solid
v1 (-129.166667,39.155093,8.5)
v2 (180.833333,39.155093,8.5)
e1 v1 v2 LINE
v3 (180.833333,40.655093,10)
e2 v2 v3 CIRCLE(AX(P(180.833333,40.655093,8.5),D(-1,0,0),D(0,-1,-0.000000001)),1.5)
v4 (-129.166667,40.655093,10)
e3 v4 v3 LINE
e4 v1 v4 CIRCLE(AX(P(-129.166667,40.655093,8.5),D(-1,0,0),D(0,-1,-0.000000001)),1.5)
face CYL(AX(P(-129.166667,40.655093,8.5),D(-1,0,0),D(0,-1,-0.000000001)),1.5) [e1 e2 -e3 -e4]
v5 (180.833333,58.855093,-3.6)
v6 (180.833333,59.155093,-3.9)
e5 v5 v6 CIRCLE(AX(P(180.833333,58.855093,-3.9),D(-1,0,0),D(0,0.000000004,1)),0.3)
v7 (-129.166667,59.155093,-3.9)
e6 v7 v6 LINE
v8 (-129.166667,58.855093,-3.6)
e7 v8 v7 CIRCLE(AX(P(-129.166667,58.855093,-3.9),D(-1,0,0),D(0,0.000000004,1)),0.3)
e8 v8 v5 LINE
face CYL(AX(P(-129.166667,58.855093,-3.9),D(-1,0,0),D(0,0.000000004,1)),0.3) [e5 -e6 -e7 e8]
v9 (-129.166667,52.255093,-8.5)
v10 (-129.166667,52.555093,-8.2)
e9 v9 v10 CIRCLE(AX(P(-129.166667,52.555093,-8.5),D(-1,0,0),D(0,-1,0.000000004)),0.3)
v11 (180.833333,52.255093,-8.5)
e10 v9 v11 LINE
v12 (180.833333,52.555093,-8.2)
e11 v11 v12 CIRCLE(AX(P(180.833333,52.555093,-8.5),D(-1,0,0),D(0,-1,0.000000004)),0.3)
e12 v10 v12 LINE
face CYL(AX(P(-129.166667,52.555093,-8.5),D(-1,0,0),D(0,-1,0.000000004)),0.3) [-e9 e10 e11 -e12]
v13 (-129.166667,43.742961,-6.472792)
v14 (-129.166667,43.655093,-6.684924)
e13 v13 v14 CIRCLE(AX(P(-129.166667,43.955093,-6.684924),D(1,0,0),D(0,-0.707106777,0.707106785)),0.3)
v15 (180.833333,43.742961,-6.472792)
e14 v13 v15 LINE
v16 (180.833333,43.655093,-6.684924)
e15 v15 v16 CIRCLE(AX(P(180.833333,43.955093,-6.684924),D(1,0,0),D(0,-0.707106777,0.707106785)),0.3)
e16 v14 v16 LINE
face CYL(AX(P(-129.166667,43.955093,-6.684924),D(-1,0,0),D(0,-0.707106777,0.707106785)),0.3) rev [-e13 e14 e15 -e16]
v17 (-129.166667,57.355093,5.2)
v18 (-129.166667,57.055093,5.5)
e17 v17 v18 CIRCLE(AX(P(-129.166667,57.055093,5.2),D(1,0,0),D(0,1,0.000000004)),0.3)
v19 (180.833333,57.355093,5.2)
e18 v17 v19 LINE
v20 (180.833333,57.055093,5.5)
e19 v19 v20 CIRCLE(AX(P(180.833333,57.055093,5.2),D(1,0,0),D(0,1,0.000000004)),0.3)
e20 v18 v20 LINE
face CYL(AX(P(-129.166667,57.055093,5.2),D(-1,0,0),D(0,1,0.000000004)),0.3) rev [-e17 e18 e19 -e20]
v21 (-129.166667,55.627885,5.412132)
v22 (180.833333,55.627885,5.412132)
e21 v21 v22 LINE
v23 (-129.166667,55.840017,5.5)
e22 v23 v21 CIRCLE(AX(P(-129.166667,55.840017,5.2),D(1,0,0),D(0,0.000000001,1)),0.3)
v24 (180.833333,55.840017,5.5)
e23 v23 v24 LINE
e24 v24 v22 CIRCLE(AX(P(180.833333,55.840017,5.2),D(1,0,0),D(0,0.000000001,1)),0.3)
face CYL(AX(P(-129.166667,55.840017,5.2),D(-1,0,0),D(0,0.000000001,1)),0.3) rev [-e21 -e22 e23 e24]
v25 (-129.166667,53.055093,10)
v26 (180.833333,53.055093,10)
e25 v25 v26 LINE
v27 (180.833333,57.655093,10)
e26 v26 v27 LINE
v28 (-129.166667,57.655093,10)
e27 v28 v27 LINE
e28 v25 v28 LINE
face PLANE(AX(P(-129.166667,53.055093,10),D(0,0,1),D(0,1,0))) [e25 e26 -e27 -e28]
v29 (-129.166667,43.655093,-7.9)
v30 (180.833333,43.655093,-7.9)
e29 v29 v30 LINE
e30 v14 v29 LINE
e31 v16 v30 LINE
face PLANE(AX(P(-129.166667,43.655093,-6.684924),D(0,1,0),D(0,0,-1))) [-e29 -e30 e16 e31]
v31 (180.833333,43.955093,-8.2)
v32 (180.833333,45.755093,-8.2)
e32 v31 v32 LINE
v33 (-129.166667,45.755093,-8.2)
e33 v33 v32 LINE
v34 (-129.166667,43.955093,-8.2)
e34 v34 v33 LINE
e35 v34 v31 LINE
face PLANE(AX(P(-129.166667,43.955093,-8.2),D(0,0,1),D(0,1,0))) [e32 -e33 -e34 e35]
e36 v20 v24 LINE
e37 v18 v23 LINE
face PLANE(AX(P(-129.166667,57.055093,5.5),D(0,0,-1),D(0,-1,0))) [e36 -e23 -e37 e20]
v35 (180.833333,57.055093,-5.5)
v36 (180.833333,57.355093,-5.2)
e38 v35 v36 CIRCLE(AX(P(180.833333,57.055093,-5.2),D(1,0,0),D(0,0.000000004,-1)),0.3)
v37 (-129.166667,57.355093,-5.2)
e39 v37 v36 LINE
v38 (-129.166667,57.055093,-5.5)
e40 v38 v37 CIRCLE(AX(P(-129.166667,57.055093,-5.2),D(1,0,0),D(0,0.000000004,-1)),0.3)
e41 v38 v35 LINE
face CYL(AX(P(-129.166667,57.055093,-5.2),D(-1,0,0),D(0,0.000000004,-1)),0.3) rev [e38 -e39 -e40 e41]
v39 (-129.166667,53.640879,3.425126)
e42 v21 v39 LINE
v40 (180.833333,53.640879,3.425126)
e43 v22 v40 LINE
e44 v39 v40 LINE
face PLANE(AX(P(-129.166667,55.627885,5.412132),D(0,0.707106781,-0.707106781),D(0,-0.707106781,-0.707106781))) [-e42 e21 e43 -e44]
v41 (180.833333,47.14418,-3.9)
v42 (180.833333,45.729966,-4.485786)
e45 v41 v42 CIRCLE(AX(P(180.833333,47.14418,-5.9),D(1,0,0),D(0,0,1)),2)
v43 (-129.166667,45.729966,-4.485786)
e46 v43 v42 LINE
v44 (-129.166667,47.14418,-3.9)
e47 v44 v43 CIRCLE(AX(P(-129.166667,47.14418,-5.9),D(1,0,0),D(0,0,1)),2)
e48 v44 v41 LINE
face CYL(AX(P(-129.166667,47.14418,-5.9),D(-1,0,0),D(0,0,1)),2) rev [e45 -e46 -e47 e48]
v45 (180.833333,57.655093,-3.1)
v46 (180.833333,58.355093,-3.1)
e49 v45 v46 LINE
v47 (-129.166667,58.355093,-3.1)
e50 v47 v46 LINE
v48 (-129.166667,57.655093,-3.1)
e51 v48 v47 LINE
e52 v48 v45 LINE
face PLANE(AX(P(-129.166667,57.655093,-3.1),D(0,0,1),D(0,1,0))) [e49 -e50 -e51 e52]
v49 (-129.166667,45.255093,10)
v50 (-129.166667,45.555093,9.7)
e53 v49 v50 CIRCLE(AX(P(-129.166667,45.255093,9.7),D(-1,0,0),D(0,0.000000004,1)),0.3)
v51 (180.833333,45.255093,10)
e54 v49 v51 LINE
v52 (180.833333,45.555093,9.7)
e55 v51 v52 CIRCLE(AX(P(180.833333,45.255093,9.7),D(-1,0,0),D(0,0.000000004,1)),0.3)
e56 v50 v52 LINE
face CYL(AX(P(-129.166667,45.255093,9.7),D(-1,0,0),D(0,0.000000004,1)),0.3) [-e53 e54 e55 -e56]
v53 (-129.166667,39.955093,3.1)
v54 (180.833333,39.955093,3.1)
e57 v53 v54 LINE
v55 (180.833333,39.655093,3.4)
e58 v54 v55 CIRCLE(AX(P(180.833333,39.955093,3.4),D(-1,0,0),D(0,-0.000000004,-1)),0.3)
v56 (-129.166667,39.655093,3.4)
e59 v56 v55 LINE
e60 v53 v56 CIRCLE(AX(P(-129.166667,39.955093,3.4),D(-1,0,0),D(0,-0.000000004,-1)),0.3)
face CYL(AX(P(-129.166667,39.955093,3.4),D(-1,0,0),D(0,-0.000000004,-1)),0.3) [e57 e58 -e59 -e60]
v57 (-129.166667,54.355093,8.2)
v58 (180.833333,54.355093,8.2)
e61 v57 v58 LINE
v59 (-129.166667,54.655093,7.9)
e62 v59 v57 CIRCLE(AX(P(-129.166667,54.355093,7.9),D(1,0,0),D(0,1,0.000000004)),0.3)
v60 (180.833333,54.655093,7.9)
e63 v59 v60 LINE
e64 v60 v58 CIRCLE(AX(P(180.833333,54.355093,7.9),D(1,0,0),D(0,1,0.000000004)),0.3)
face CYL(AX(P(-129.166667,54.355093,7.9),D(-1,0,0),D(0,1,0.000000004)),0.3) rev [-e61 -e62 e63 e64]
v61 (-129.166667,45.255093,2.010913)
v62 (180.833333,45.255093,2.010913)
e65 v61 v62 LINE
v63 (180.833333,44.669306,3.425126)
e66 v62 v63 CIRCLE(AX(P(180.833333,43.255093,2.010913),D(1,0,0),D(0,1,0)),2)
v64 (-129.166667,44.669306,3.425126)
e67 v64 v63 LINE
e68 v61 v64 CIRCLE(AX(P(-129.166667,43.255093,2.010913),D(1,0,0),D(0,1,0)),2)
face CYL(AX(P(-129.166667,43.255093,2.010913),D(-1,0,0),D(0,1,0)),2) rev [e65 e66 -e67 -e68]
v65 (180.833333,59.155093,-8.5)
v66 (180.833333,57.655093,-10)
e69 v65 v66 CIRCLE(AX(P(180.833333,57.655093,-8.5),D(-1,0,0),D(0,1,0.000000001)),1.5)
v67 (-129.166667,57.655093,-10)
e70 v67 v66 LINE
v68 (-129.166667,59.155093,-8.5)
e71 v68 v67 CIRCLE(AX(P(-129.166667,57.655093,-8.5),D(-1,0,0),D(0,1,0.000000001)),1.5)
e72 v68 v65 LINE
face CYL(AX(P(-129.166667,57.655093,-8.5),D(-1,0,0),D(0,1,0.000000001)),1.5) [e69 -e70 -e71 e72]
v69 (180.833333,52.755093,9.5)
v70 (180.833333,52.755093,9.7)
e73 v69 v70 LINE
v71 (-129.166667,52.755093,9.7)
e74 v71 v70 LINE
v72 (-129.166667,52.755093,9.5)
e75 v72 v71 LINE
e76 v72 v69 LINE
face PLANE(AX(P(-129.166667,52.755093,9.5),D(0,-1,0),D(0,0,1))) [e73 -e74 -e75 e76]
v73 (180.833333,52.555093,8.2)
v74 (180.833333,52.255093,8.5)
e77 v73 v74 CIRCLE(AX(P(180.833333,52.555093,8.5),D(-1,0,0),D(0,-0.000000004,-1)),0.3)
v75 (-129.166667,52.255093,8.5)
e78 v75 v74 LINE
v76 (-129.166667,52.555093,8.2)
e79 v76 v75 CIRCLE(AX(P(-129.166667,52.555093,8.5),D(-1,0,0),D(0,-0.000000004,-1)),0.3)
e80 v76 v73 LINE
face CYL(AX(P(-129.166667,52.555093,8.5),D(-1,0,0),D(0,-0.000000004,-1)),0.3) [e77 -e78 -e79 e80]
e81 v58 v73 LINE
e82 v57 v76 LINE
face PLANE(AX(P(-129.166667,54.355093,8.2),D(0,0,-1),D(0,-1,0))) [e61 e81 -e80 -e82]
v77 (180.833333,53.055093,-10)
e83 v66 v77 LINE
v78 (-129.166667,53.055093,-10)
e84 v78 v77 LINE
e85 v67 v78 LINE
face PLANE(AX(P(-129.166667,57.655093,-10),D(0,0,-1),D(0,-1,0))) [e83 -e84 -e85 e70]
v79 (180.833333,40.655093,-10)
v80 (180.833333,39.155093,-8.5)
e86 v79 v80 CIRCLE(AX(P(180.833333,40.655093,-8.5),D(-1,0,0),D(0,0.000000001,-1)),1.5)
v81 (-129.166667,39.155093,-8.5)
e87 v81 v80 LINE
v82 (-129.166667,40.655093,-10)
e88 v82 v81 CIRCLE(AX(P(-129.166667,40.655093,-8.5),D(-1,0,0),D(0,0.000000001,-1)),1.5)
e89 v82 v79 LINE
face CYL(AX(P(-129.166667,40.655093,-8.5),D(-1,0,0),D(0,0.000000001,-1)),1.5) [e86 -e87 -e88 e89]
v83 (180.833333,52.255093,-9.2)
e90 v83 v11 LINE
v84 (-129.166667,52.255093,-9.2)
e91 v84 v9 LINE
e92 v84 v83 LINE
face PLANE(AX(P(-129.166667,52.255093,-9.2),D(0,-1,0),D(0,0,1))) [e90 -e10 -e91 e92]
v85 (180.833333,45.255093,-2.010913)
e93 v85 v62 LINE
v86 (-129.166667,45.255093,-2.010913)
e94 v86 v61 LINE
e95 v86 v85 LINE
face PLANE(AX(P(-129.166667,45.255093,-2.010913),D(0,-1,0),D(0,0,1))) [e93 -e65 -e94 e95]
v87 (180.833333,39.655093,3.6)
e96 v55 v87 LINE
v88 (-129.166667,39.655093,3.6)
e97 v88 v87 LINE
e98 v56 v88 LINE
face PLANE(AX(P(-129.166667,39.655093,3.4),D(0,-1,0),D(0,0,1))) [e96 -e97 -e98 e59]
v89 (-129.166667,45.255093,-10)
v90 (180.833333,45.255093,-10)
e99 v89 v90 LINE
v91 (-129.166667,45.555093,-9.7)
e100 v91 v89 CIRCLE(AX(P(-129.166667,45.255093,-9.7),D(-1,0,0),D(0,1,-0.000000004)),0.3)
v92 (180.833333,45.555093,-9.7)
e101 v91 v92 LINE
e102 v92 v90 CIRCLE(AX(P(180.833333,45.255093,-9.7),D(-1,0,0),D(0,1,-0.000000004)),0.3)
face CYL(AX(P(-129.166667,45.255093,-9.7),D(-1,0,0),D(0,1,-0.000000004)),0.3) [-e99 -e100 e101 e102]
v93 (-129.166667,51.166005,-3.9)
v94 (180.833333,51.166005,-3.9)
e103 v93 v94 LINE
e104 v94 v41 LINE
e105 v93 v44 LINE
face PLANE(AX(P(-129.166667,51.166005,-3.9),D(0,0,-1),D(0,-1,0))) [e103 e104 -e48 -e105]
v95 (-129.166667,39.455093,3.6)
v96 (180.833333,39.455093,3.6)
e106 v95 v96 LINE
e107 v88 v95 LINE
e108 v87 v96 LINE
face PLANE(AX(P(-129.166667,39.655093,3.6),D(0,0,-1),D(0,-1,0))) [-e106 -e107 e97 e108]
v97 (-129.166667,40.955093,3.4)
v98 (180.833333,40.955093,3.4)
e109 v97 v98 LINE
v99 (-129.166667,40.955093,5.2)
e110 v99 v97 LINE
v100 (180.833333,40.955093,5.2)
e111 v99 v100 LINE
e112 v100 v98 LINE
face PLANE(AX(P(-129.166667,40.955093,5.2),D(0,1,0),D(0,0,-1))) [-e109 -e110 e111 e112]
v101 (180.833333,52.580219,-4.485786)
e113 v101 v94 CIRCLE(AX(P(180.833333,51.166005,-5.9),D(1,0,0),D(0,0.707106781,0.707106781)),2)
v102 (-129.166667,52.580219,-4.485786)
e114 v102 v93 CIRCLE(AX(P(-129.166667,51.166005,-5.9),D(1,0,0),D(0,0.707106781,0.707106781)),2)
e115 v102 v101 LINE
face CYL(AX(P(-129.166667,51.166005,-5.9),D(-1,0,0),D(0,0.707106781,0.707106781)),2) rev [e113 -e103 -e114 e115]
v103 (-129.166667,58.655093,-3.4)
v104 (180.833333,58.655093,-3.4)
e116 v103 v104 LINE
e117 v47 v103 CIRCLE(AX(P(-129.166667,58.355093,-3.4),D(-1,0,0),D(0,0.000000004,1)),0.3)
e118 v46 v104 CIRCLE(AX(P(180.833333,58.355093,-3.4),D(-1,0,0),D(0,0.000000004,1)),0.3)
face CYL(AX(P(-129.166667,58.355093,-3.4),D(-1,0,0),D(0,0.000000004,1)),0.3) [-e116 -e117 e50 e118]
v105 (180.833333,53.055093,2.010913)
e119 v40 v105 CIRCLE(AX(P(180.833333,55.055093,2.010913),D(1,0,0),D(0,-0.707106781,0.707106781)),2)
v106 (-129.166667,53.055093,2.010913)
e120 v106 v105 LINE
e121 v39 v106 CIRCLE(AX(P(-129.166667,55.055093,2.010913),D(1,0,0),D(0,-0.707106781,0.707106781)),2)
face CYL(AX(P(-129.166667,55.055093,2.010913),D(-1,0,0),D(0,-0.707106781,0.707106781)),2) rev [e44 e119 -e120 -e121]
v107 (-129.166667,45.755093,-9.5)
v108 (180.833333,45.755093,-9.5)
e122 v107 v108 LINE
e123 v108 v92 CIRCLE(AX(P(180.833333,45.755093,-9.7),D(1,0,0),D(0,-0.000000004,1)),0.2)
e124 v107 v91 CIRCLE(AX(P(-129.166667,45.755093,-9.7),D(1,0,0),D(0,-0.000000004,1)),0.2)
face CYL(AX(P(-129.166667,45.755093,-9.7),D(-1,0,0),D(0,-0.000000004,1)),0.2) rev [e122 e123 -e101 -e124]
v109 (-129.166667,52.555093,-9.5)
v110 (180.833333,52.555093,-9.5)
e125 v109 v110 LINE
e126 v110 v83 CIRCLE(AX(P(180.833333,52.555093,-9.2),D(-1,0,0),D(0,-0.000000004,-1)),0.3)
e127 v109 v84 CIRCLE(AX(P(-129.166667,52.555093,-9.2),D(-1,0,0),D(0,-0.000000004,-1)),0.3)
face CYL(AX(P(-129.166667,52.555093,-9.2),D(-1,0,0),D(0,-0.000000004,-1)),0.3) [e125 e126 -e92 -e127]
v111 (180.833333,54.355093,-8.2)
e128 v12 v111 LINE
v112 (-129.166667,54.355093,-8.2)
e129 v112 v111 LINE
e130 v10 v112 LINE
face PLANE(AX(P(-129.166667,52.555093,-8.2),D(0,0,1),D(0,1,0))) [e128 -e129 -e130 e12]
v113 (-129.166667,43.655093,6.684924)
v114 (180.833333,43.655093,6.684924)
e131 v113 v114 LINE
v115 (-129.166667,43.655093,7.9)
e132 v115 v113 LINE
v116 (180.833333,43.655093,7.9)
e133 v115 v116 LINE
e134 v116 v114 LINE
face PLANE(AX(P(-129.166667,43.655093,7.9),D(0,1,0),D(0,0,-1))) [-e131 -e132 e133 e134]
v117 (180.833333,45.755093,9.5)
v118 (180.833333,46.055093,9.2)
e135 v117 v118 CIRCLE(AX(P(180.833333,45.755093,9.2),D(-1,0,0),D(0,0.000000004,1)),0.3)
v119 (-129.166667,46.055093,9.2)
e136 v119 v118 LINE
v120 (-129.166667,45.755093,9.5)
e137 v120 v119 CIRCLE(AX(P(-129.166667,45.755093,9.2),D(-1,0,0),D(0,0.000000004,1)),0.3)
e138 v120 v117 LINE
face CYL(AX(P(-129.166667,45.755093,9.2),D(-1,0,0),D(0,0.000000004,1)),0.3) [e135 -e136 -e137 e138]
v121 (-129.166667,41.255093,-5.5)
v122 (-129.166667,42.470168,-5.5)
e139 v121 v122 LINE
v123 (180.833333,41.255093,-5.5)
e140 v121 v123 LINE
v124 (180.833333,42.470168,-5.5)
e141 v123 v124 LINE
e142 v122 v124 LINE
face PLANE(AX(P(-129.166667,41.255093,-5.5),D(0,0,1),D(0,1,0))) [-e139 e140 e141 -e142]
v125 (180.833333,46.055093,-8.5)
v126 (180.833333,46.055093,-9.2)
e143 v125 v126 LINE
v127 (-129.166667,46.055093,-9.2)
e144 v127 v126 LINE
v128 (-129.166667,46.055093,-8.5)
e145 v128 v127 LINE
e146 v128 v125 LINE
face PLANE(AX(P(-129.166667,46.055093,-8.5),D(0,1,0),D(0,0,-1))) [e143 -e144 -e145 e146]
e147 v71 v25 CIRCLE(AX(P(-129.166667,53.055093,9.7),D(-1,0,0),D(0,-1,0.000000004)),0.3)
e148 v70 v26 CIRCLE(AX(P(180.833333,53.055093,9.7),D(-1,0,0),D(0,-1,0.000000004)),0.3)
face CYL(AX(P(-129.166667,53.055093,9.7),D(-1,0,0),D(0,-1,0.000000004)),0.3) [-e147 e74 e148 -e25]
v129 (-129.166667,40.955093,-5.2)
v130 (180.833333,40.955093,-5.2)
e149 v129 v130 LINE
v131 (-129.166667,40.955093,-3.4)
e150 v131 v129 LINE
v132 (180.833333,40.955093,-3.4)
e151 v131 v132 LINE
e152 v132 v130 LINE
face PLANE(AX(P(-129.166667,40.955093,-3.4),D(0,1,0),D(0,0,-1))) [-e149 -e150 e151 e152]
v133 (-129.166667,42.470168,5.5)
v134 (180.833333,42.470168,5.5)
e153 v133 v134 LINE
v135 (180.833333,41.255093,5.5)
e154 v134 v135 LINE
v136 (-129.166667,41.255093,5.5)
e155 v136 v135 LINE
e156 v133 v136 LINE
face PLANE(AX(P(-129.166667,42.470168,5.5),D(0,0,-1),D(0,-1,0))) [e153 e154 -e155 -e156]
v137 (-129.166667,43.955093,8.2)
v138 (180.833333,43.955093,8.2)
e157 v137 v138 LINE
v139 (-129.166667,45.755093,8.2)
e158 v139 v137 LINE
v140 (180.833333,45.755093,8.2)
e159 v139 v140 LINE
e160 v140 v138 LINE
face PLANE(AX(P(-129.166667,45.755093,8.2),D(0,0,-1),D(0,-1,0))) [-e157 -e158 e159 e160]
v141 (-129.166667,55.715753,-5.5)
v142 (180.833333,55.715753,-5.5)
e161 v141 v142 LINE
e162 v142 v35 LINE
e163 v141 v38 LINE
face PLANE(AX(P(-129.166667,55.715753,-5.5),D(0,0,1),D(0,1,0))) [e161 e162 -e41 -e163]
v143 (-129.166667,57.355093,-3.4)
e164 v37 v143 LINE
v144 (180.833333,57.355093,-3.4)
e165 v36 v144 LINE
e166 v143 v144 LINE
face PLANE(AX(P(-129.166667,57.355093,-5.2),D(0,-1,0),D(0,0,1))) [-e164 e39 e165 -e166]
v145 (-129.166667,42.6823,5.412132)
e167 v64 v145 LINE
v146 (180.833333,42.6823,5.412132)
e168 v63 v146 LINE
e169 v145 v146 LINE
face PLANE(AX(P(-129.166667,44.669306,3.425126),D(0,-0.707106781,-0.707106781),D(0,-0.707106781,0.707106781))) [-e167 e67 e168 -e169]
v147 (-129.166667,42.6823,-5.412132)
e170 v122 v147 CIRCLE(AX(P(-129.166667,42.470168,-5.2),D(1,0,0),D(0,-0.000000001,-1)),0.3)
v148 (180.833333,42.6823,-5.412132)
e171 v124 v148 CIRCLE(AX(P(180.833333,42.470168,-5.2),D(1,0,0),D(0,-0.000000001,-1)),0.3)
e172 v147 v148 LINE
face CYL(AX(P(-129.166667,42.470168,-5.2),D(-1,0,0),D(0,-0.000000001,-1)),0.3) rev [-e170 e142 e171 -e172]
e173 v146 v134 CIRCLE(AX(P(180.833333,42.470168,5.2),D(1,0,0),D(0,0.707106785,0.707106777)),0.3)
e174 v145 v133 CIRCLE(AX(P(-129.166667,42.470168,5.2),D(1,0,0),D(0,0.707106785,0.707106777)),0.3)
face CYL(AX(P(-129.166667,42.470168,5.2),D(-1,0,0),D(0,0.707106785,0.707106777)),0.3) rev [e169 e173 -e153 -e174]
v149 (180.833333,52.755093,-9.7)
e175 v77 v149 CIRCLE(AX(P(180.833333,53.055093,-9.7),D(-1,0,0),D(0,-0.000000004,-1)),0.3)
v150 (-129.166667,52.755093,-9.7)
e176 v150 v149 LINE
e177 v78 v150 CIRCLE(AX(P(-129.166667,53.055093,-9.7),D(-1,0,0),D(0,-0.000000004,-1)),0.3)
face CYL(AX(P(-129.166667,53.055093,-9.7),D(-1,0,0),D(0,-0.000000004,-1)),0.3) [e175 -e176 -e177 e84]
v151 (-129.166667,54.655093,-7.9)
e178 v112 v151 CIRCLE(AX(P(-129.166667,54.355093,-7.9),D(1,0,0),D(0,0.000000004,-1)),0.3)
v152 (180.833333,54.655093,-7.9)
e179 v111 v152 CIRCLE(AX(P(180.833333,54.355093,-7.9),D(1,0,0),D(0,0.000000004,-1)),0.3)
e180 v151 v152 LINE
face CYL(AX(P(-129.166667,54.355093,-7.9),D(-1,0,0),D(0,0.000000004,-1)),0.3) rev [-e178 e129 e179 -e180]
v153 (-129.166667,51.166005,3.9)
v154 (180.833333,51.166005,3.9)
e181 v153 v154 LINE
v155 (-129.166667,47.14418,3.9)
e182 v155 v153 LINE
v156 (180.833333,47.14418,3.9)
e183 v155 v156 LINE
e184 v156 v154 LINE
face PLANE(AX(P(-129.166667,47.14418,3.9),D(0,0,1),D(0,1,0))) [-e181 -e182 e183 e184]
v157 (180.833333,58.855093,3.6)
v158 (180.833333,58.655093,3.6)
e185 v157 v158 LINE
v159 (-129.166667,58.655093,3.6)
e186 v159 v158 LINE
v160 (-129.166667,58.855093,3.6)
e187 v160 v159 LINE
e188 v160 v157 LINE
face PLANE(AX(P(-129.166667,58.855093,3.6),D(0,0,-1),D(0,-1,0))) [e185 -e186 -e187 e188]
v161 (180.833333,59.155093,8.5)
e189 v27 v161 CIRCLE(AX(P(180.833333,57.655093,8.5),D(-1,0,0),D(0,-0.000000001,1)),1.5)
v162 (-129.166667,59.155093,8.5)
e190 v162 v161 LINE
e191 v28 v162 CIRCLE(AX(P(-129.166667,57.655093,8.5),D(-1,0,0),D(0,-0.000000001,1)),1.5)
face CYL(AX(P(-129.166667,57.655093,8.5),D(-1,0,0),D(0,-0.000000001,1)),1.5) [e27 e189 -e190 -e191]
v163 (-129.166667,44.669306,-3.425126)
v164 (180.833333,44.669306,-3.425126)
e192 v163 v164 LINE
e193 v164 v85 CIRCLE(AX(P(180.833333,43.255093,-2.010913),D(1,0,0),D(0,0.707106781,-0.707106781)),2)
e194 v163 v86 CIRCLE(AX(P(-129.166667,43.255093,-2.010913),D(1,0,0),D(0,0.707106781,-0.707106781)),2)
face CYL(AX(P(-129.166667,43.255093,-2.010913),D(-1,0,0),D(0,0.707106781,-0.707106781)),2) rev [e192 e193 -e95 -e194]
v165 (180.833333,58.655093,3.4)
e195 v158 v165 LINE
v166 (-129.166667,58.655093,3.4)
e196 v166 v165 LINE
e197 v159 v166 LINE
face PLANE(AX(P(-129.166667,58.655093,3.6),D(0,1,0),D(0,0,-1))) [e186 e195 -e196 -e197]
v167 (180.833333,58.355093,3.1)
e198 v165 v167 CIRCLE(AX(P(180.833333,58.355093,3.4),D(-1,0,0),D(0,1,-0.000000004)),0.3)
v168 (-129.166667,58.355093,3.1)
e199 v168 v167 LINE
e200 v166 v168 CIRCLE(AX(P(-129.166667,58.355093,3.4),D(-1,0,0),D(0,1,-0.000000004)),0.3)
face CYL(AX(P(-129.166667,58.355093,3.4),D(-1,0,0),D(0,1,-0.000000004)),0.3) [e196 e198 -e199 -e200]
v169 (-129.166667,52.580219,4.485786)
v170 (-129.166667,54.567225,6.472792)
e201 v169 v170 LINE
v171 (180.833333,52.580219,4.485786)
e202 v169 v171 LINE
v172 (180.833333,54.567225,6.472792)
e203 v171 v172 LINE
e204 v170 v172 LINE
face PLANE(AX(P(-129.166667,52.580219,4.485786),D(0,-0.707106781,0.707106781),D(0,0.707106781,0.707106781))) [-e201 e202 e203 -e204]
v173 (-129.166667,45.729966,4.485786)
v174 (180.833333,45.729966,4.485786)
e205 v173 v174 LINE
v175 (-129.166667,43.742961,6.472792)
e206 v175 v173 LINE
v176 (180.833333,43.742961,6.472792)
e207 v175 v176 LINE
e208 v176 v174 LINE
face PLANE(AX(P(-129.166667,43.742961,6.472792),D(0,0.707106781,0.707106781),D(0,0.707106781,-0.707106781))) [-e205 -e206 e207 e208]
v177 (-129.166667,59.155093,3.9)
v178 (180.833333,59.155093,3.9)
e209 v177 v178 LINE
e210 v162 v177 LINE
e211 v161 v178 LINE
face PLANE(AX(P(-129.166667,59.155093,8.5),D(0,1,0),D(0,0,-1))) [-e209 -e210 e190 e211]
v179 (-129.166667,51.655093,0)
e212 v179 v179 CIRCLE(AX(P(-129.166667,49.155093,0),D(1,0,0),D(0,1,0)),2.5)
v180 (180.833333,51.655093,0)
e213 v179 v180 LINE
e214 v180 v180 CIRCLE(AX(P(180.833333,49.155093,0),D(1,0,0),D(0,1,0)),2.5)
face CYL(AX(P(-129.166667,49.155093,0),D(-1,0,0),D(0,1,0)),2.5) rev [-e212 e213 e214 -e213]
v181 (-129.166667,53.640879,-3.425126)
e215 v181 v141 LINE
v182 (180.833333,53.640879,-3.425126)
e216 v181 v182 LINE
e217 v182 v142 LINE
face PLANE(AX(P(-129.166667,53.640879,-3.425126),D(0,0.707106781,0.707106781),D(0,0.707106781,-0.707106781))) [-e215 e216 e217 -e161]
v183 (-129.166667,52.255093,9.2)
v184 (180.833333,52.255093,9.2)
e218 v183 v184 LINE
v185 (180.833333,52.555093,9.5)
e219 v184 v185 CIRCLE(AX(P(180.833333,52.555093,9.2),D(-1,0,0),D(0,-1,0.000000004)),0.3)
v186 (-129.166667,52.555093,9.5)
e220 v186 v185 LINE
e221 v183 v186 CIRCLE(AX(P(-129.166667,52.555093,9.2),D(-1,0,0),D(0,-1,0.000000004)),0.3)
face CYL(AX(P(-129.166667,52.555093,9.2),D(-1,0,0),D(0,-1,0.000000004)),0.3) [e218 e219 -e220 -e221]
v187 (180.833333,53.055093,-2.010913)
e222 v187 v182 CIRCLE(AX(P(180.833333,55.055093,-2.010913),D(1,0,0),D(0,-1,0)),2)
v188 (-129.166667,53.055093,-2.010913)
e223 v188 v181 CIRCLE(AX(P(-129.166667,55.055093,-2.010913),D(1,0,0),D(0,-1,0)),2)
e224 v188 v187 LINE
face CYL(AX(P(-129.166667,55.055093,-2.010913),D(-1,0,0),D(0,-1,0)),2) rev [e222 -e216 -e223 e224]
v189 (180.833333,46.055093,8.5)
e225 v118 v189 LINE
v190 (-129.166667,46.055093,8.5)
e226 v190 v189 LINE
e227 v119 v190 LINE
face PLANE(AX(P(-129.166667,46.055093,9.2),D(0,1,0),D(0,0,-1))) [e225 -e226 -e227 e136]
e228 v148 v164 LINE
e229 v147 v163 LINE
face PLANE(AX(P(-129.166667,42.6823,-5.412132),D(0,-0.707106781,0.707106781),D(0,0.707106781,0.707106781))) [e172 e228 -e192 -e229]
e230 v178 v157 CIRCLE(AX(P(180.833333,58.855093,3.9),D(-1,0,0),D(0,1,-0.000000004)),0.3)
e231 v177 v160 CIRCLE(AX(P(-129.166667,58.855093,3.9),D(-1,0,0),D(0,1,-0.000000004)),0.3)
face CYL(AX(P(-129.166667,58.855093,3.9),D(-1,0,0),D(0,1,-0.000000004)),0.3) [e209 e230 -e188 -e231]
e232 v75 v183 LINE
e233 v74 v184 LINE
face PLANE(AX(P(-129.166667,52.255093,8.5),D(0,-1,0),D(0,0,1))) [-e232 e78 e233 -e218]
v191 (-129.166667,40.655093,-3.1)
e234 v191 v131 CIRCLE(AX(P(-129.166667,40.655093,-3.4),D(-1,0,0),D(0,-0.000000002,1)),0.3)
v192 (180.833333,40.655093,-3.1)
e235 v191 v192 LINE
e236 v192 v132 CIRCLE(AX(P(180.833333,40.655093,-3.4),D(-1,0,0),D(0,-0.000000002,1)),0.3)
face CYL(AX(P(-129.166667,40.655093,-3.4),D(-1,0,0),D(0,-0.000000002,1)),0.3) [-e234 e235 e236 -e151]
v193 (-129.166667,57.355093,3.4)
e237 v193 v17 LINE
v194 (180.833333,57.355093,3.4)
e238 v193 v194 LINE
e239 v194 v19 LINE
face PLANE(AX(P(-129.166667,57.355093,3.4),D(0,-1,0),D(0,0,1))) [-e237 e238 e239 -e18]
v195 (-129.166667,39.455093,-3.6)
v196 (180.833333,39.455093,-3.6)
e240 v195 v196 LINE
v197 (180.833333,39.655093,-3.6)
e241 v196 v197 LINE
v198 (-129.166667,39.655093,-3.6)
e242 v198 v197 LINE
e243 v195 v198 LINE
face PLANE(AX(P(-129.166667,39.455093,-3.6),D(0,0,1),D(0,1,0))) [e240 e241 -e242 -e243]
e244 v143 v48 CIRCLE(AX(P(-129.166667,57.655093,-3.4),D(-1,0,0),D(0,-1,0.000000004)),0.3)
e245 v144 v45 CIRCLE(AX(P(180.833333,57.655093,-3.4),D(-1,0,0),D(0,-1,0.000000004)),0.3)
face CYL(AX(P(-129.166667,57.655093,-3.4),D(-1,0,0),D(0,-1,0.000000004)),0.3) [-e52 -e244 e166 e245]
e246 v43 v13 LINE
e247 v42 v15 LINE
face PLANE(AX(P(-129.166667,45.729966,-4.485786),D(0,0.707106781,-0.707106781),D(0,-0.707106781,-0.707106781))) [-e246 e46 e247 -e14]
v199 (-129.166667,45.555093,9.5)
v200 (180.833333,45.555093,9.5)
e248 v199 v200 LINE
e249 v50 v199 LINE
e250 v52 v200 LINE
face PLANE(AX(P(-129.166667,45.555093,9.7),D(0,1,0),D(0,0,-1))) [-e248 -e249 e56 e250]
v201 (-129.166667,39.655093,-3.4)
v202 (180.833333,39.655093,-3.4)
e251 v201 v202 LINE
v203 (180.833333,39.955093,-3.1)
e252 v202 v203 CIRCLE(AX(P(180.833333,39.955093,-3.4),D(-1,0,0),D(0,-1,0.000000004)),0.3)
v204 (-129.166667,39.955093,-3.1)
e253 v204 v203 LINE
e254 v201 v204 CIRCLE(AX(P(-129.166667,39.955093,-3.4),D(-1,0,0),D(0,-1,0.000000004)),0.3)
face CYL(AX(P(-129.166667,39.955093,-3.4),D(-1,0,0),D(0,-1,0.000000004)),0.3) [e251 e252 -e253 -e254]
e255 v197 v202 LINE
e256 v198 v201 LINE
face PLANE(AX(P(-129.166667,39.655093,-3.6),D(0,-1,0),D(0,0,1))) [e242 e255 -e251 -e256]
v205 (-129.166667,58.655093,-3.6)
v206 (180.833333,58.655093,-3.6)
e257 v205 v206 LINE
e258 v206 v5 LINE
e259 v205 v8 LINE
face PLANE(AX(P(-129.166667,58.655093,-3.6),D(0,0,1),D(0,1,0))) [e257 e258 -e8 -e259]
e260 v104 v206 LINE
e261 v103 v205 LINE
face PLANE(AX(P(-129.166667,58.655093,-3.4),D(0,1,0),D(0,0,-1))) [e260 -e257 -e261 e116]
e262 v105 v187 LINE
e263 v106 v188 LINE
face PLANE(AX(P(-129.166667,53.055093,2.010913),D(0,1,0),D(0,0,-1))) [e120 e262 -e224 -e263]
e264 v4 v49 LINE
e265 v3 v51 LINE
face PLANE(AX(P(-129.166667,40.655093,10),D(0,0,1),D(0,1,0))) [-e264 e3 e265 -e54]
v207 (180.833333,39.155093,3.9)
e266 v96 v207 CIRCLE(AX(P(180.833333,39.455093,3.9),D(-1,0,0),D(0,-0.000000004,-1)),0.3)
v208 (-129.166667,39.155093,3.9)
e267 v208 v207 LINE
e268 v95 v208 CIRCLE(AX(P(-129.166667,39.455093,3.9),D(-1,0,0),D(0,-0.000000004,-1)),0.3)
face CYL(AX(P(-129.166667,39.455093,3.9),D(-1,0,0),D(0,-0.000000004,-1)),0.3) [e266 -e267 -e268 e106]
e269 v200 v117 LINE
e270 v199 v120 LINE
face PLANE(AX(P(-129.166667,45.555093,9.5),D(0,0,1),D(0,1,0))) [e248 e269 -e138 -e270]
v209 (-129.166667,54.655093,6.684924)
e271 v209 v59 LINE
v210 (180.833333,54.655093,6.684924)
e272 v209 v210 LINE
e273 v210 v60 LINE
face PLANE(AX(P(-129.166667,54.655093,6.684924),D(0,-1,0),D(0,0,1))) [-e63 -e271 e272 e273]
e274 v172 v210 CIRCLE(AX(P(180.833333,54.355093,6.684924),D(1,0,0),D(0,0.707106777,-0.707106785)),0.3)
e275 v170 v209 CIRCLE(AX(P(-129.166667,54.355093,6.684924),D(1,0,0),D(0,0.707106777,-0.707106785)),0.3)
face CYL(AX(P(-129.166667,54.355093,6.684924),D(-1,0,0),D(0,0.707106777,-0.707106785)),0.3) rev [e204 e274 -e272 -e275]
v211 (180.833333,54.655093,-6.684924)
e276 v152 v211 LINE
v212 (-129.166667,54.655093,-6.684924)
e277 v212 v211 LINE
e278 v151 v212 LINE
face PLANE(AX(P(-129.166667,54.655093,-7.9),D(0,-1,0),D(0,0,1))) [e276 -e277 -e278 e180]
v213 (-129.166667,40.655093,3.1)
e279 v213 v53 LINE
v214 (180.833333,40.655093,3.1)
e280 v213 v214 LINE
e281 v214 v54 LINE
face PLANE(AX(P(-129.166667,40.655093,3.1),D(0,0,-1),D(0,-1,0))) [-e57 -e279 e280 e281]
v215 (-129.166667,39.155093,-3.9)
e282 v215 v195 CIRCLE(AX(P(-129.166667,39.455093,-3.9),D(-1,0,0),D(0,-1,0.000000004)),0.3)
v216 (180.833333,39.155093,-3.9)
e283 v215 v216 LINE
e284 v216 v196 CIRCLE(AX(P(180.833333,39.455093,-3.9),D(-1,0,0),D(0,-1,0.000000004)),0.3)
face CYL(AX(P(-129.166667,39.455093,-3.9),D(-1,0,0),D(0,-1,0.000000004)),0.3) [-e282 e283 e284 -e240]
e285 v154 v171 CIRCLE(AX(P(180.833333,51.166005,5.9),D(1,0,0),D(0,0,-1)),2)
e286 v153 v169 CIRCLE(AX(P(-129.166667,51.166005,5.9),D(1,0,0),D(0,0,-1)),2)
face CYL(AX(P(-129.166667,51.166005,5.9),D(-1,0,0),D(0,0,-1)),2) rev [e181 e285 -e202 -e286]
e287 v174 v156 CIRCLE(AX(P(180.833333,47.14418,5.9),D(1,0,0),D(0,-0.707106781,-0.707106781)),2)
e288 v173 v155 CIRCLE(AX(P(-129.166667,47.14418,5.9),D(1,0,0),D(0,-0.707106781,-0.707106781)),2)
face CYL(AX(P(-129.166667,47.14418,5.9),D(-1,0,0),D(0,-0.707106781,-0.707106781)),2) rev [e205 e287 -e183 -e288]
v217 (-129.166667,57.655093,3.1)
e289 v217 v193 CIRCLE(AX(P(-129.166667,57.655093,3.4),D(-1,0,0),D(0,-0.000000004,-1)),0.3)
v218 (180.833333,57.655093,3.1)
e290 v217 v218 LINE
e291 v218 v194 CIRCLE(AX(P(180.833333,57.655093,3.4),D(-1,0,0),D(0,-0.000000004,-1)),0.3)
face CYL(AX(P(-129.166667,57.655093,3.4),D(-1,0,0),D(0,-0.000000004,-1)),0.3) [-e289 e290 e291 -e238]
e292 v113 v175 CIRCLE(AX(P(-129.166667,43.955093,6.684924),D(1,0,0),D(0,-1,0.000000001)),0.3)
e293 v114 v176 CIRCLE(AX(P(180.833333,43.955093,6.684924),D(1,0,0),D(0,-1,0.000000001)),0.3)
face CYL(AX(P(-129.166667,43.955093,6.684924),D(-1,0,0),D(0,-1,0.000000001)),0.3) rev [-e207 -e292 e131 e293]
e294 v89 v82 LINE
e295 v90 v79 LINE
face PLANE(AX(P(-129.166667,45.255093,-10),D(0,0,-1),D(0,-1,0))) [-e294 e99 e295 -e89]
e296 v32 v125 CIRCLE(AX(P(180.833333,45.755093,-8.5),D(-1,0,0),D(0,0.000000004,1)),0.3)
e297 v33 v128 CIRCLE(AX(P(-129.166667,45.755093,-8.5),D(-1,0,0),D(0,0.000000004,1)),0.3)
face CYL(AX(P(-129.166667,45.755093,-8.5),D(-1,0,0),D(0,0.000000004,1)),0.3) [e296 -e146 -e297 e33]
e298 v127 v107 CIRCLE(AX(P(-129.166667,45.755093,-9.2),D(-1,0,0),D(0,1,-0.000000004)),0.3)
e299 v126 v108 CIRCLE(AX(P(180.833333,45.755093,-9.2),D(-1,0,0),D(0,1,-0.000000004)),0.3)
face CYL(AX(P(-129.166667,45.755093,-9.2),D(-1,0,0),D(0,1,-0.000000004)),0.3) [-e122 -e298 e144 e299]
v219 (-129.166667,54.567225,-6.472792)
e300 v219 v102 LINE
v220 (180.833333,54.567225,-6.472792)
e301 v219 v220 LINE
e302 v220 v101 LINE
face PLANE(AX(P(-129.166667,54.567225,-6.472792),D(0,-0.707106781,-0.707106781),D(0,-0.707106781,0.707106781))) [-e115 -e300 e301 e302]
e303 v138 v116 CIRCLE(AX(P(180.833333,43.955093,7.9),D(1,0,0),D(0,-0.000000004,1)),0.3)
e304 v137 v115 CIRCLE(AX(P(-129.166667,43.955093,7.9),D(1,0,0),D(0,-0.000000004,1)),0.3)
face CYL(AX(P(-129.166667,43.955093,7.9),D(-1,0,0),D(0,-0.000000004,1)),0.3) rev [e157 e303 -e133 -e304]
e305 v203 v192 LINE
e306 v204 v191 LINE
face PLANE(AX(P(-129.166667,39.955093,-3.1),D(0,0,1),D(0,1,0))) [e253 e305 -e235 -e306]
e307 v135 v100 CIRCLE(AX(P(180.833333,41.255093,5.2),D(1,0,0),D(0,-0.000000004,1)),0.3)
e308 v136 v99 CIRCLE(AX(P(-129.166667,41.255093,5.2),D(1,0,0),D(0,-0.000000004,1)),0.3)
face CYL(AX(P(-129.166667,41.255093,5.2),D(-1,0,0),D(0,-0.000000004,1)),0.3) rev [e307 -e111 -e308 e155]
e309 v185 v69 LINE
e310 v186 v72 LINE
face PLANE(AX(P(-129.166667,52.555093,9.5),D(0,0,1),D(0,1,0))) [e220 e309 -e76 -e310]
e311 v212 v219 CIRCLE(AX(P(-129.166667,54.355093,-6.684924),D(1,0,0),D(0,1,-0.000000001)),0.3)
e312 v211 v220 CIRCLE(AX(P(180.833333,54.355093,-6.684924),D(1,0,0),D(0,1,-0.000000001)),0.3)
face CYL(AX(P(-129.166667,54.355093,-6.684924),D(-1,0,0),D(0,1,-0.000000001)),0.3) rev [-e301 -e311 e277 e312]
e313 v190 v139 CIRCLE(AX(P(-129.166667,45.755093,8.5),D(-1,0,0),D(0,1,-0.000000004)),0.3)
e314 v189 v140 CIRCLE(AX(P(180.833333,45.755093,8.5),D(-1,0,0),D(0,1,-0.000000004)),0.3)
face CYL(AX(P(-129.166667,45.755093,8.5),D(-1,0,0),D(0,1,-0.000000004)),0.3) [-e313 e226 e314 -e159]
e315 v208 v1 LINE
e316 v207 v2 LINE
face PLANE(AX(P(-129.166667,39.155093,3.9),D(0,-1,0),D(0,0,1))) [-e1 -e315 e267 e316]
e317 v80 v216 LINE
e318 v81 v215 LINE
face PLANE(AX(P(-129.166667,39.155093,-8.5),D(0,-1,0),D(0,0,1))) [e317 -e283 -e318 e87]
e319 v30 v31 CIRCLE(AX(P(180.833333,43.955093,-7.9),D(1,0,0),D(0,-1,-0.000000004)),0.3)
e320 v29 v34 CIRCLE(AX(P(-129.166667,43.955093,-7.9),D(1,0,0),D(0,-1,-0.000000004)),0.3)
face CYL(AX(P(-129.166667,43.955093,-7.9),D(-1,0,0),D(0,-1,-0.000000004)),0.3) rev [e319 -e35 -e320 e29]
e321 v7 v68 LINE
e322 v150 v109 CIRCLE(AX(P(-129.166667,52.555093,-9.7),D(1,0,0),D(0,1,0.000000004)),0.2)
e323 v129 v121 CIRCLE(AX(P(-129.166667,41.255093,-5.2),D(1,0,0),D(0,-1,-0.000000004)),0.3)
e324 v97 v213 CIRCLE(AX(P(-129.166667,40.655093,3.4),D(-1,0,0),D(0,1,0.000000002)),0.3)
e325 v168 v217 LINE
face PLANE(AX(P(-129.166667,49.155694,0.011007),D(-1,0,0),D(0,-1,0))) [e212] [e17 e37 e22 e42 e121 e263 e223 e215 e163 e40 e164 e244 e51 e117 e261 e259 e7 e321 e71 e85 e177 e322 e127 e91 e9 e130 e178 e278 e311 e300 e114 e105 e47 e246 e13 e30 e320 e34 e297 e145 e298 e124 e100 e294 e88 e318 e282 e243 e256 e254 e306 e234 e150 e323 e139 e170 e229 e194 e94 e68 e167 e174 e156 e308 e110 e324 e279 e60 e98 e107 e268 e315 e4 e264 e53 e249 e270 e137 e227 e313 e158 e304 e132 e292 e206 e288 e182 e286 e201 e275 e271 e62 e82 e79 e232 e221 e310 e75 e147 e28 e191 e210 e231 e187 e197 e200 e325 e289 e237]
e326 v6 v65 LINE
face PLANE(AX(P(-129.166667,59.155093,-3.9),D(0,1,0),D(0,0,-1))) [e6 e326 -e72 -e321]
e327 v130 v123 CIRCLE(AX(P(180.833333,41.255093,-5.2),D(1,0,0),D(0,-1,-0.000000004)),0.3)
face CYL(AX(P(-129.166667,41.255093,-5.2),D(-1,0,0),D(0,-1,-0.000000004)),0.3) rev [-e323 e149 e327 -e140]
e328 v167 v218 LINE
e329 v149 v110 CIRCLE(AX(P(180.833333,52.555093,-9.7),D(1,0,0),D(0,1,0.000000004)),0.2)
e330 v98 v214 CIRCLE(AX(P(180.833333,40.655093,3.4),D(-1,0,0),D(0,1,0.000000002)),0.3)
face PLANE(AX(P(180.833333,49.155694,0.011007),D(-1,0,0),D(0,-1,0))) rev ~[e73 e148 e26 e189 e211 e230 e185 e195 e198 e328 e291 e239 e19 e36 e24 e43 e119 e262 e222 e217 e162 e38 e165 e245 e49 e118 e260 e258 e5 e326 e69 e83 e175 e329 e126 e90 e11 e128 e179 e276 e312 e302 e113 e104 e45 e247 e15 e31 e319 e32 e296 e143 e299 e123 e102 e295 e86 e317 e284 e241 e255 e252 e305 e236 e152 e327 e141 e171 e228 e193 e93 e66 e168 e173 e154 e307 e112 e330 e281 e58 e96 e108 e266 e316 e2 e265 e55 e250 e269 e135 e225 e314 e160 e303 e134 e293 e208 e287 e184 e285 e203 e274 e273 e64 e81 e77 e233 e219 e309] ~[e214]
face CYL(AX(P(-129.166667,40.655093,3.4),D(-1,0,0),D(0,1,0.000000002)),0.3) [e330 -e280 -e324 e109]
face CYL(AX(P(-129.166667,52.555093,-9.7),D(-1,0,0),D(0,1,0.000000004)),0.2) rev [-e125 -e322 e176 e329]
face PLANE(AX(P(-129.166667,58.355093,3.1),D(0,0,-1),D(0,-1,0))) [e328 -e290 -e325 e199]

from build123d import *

# Parameters (mm, degrees)
SKETCH_11_R         = 2.5
MEMBER_2020_1_DEPTH = 310


with BuildPart() as part:
    # 草图11 → Member 2020_1 (new body)
    with BuildSketch(Plane(origin=(-129.166666667, 49.155092593, 0), x_dir=(0, 1, 0), z_dir=(1, 0, 0))):
        with BuildLine():
            Line((3.9, 0), (3.9, -2.010912703))
            ThreePointArc((3.9, -2.010912703), (4.052240935, -2.776279568), (4.485786438, -3.425126266))
            Line((4.485786438, -3.425126266), (6.560660172, -5.5))
            Line((6.560660172, -5.5), (7.9, -5.5))
            ThreePointArc((7.9, -5.5), (8.112132034, -5.412132034), (8.2, -5.2))
            Line((8.2, -5.2), (8.2, -3.4))
            ThreePointArc((8.2, -3.4), (8.287867966, -3.187867966), (8.5, -3.1))
            Line((8.5, -3.1), (9.2, -3.1))
            ThreePointArc((9.2, -3.1), (9.412132034, -3.187867966), (9.5, -3.4))
            Line((9.5, -3.4), (9.5, -3.6))
            Line((9.5, -3.6), (9.7, -3.6))
            ThreePointArc((9.7, -3.6), (9.912132034, -3.687867966), (10, -3.9))
            Line((10, -3.9), (10, -8.5))
            ThreePointArc((10, -8.5), (9.560660172, -9.560660172), (8.5, -10))
            Line((8.5, -10), (3.9, -10))
            ThreePointArc((3.9, -10), (3.687867966, -9.912132034), (3.6, -9.7))
            ThreePointArc((3.6, -9.7), (3.541421356, -9.558578644), (3.4, -9.5))
            ThreePointArc((3.4, -9.5), (3.187867966, -9.412132034), (3.1, -9.2))
            Line((3.1, -9.2), (3.1, -8.5))
            ThreePointArc((3.1, -8.5), (3.187867966, -8.287867966), (3.4, -8.2))
            Line((3.4, -8.2), (5.2, -8.2))
            ThreePointArc((5.2, -8.2), (5.412132034, -8.112132034), (5.5, -7.9))
            Line((5.5, -7.9), (5.5, -6.68492424))
            ThreePointArc((5.5, -6.68492424), (5.47716386, -6.570119211), (5.412132034, -6.472792206))
            Line((5.412132034, -6.472792206), (3.425126266, -4.485786438))
            ThreePointArc((3.425126266, -4.485786438), (2.776279568, -4.052240935), (2.010912703, -3.9))
            Line((2.010912703, -3.9), (0, -3.9))
            Line((0, -3.9), (-2.010912703, -3.9))
            ThreePointArc((-2.010912703, -3.9), (-2.776279568, -4.052240935), (-3.425126266, -4.485786438))
            Line((-3.425126266, -4.485786438), (-5.412132034, -6.472792206))
            ThreePointArc((-5.412132034, -6.472792206), (-5.47716386, -6.570119211), (-5.5, -6.68492424))
            Line((-5.5, -6.68492424), (-5.5, -7.9))
            ThreePointArc((-5.5, -7.9), (-5.412132034, -8.112132034), (-5.2, -8.2))
            Line((-5.2, -8.2), (-3.4, -8.2))
            ThreePointArc((-3.4, -8.2), (-3.187867966, -8.287867966), (-3.1, -8.5))
            Line((-3.1, -8.5), (-3.1, -9.2))
            ThreePointArc((-3.1, -9.2), (-3.187867966, -9.412132034), (-3.4, -9.5))
            ThreePointArc((-3.4, -9.5), (-3.541421356, -9.558578644), (-3.6, -9.7))
            ThreePointArc((-3.6, -9.7), (-3.687867966, -9.912132034), (-3.9, -10))
            Line((-3.9, -10), (-8.5, -10))
            ThreePointArc((-8.5, -10), (-9.560660172, -9.560660172), (-10, -8.5))
            Line((-10, -8.5), (-10, -3.9))
            ThreePointArc((-10, -3.9), (-9.912132034, -3.687867966), (-9.7, -3.6))
            Line((-9.7, -3.6), (-9.5, -3.6))
            Line((-9.5, -3.6), (-9.5, -3.4))
            ThreePointArc((-9.5, -3.4), (-9.412132034, -3.187867966), (-9.2, -3.1))
            Line((-9.2, -3.1), (-8.5, -3.1))
            ThreePointArc((-8.5, -3.1), (-8.287867965, -3.187867966), (-8.2, -3.4))
            Line((-8.2, -3.4), (-8.2, -5.2))
            ThreePointArc((-8.2, -5.2), (-8.112132034, -5.412132034), (-7.9, -5.5))
            Line((-7.9, -5.5), (-6.68492424, -5.5))
            ThreePointArc((-6.68492424, -5.5), (-6.570119211, -5.47716386), (-6.472792206, -5.412132034))
            Line((-6.472792206, -5.412132034), (-4.485786438, -3.425126266))
            ThreePointArc((-4.485786438, -3.425126266), (-4.052240935, -2.776279568), (-3.9, -2.010912703))
            Line((-3.9, -2.010912703), (-3.9, 0))
            Line((-3.9, 0), (-3.9, 2.010912703))
            ThreePointArc((-3.9, 2.010912703), (-4.052240935, 2.776279568), (-4.485786438, 3.425126266))
            Line((-4.485786438, 3.425126266), (-6.472792206, 5.412132034))
            ThreePointArc((-6.472792206, 5.412132034), (-6.570119211, 5.47716386), (-6.68492424, 5.5))
            Line((-6.68492424, 5.5), (-7.9, 5.5))
            ThreePointArc((-7.9, 5.5), (-8.112132034, 5.412132034), (-8.2, 5.2))
            Line((-8.2, 5.2), (-8.2, 3.4))
            ThreePointArc((-8.2, 3.4), (-8.287867965, 3.187867966), (-8.5, 3.1))
            Line((-8.5, 3.1), (-9.2, 3.1))
            ThreePointArc((-9.2, 3.1), (-9.412132034, 3.187867966), (-9.5, 3.4))
            Line((-9.5, 3.4), (-9.5, 3.6))
            Line((-9.5, 3.6), (-9.7, 3.6))
            ThreePointArc((-9.7, 3.6), (-9.912132034, 3.687867966), (-10, 3.9))
            Line((-10, 3.9), (-10, 8.5))
            ThreePointArc((-10, 8.5), (-9.560660172, 9.560660172), (-8.5, 10))
            Line((-8.5, 10), (-3.9, 10))
            ThreePointArc((-3.9, 10), (-3.687867966, 9.912132034), (-3.6, 9.7))
            Line((-3.6, 9.7), (-3.6, 9.5))
            Line((-3.6, 9.5), (-3.4, 9.5))
            ThreePointArc((-3.4, 9.5), (-3.187867966, 9.412132034), (-3.1, 9.2))
            Line((-3.1, 9.2), (-3.1, 8.5))
            ThreePointArc((-3.1, 8.5), (-3.187867966, 8.287867966), (-3.4, 8.2))
            Line((-3.4, 8.2), (-5.2, 8.2))
            ThreePointArc((-5.2, 8.2), (-5.412132034, 8.112132034), (-5.5, 7.9))
            Line((-5.5, 7.9), (-5.5, 6.68492424))
            ThreePointArc((-5.5, 6.68492424), (-5.47716386, 6.570119211), (-5.412132034, 6.472792206))
            Line((-5.412132034, 6.472792206), (-3.425126266, 4.485786438))
            ThreePointArc((-3.425126266, 4.485786438), (-2.776279568, 4.052240935), (-2.010912703, 3.9))
            Line((-2.010912703, 3.9), (0, 3.9))
            Line((0, 3.9), (2.010912703, 3.9))
            ThreePointArc((2.010912703, 3.9), (2.776279568, 4.052240935), (3.425126266, 4.485786438))
            Line((3.425126266, 4.485786438), (5.412132034, 6.472792206))
            ThreePointArc((5.412132034, 6.472792206), (5.47716386, 6.570119211), (5.5, 6.68492424))
            Line((5.5, 6.68492424), (5.5, 7.9))
            ThreePointArc((5.5, 7.9), (5.412132034, 8.112132034), (5.2, 8.2))
            Line((5.2, 8.2), (3.4, 8.2))
            ThreePointArc((3.4, 8.2), (3.187867966, 8.287867966), (3.1, 8.5))
            Line((3.1, 8.5), (3.1, 9.2))
            ThreePointArc((3.1, 9.2), (3.187867966, 9.412132034), (3.4, 9.5))
            Line((3.4, 9.5), (3.6, 9.5))
            Line((3.6, 9.5), (3.6, 9.7))
            ThreePointArc((3.6, 9.7), (3.687867966, 9.912132034), (3.9, 10))
            Line((3.9, 10), (8.5, 10))
            ThreePointArc((8.5, 10), (9.560660172, 9.560660172), (10, 8.5))
            Line((10, 8.5), (10, 3.9))
            ThreePointArc((10, 3.9), (9.912132034, 3.687867966), (9.7, 3.6))
            Line((9.7, 3.6), (9.5, 3.6))
            Line((9.5, 3.6), (9.5, 3.4))
            ThreePointArc((9.5, 3.4), (9.412132034, 3.187867966), (9.2, 3.1))
            Line((9.2, 3.1), (8.5, 3.1))
            ThreePointArc((8.5, 3.1), (8.287867966, 3.187867966), (8.2, 3.4))
            Line((8.2, 3.4), (8.2, 5.2))
            ThreePointArc((8.2, 5.2), (8.112132034, 5.412132034), (7.9, 5.5))
            Line((7.9, 5.5), (6.68492424, 5.5))
            ThreePointArc((6.68492424, 5.5), (6.570119211, 5.47716386), (6.472792206, 5.412132034))
            Line((6.472792206, 5.412132034), (4.485786438, 3.425126266))
            ThreePointArc((4.485786438, 3.425126266), (4.052240935, 2.776279568), (3.9, 2.010912703))
            Line((3.9, 2.010912703), (3.9, 0))
        make_face()
        Circle(SKETCH_11_R, mode=Mode.SUBTRACT)
    extrude(amount=MEMBER_2020_1_DEPTH)


solid = part.part
